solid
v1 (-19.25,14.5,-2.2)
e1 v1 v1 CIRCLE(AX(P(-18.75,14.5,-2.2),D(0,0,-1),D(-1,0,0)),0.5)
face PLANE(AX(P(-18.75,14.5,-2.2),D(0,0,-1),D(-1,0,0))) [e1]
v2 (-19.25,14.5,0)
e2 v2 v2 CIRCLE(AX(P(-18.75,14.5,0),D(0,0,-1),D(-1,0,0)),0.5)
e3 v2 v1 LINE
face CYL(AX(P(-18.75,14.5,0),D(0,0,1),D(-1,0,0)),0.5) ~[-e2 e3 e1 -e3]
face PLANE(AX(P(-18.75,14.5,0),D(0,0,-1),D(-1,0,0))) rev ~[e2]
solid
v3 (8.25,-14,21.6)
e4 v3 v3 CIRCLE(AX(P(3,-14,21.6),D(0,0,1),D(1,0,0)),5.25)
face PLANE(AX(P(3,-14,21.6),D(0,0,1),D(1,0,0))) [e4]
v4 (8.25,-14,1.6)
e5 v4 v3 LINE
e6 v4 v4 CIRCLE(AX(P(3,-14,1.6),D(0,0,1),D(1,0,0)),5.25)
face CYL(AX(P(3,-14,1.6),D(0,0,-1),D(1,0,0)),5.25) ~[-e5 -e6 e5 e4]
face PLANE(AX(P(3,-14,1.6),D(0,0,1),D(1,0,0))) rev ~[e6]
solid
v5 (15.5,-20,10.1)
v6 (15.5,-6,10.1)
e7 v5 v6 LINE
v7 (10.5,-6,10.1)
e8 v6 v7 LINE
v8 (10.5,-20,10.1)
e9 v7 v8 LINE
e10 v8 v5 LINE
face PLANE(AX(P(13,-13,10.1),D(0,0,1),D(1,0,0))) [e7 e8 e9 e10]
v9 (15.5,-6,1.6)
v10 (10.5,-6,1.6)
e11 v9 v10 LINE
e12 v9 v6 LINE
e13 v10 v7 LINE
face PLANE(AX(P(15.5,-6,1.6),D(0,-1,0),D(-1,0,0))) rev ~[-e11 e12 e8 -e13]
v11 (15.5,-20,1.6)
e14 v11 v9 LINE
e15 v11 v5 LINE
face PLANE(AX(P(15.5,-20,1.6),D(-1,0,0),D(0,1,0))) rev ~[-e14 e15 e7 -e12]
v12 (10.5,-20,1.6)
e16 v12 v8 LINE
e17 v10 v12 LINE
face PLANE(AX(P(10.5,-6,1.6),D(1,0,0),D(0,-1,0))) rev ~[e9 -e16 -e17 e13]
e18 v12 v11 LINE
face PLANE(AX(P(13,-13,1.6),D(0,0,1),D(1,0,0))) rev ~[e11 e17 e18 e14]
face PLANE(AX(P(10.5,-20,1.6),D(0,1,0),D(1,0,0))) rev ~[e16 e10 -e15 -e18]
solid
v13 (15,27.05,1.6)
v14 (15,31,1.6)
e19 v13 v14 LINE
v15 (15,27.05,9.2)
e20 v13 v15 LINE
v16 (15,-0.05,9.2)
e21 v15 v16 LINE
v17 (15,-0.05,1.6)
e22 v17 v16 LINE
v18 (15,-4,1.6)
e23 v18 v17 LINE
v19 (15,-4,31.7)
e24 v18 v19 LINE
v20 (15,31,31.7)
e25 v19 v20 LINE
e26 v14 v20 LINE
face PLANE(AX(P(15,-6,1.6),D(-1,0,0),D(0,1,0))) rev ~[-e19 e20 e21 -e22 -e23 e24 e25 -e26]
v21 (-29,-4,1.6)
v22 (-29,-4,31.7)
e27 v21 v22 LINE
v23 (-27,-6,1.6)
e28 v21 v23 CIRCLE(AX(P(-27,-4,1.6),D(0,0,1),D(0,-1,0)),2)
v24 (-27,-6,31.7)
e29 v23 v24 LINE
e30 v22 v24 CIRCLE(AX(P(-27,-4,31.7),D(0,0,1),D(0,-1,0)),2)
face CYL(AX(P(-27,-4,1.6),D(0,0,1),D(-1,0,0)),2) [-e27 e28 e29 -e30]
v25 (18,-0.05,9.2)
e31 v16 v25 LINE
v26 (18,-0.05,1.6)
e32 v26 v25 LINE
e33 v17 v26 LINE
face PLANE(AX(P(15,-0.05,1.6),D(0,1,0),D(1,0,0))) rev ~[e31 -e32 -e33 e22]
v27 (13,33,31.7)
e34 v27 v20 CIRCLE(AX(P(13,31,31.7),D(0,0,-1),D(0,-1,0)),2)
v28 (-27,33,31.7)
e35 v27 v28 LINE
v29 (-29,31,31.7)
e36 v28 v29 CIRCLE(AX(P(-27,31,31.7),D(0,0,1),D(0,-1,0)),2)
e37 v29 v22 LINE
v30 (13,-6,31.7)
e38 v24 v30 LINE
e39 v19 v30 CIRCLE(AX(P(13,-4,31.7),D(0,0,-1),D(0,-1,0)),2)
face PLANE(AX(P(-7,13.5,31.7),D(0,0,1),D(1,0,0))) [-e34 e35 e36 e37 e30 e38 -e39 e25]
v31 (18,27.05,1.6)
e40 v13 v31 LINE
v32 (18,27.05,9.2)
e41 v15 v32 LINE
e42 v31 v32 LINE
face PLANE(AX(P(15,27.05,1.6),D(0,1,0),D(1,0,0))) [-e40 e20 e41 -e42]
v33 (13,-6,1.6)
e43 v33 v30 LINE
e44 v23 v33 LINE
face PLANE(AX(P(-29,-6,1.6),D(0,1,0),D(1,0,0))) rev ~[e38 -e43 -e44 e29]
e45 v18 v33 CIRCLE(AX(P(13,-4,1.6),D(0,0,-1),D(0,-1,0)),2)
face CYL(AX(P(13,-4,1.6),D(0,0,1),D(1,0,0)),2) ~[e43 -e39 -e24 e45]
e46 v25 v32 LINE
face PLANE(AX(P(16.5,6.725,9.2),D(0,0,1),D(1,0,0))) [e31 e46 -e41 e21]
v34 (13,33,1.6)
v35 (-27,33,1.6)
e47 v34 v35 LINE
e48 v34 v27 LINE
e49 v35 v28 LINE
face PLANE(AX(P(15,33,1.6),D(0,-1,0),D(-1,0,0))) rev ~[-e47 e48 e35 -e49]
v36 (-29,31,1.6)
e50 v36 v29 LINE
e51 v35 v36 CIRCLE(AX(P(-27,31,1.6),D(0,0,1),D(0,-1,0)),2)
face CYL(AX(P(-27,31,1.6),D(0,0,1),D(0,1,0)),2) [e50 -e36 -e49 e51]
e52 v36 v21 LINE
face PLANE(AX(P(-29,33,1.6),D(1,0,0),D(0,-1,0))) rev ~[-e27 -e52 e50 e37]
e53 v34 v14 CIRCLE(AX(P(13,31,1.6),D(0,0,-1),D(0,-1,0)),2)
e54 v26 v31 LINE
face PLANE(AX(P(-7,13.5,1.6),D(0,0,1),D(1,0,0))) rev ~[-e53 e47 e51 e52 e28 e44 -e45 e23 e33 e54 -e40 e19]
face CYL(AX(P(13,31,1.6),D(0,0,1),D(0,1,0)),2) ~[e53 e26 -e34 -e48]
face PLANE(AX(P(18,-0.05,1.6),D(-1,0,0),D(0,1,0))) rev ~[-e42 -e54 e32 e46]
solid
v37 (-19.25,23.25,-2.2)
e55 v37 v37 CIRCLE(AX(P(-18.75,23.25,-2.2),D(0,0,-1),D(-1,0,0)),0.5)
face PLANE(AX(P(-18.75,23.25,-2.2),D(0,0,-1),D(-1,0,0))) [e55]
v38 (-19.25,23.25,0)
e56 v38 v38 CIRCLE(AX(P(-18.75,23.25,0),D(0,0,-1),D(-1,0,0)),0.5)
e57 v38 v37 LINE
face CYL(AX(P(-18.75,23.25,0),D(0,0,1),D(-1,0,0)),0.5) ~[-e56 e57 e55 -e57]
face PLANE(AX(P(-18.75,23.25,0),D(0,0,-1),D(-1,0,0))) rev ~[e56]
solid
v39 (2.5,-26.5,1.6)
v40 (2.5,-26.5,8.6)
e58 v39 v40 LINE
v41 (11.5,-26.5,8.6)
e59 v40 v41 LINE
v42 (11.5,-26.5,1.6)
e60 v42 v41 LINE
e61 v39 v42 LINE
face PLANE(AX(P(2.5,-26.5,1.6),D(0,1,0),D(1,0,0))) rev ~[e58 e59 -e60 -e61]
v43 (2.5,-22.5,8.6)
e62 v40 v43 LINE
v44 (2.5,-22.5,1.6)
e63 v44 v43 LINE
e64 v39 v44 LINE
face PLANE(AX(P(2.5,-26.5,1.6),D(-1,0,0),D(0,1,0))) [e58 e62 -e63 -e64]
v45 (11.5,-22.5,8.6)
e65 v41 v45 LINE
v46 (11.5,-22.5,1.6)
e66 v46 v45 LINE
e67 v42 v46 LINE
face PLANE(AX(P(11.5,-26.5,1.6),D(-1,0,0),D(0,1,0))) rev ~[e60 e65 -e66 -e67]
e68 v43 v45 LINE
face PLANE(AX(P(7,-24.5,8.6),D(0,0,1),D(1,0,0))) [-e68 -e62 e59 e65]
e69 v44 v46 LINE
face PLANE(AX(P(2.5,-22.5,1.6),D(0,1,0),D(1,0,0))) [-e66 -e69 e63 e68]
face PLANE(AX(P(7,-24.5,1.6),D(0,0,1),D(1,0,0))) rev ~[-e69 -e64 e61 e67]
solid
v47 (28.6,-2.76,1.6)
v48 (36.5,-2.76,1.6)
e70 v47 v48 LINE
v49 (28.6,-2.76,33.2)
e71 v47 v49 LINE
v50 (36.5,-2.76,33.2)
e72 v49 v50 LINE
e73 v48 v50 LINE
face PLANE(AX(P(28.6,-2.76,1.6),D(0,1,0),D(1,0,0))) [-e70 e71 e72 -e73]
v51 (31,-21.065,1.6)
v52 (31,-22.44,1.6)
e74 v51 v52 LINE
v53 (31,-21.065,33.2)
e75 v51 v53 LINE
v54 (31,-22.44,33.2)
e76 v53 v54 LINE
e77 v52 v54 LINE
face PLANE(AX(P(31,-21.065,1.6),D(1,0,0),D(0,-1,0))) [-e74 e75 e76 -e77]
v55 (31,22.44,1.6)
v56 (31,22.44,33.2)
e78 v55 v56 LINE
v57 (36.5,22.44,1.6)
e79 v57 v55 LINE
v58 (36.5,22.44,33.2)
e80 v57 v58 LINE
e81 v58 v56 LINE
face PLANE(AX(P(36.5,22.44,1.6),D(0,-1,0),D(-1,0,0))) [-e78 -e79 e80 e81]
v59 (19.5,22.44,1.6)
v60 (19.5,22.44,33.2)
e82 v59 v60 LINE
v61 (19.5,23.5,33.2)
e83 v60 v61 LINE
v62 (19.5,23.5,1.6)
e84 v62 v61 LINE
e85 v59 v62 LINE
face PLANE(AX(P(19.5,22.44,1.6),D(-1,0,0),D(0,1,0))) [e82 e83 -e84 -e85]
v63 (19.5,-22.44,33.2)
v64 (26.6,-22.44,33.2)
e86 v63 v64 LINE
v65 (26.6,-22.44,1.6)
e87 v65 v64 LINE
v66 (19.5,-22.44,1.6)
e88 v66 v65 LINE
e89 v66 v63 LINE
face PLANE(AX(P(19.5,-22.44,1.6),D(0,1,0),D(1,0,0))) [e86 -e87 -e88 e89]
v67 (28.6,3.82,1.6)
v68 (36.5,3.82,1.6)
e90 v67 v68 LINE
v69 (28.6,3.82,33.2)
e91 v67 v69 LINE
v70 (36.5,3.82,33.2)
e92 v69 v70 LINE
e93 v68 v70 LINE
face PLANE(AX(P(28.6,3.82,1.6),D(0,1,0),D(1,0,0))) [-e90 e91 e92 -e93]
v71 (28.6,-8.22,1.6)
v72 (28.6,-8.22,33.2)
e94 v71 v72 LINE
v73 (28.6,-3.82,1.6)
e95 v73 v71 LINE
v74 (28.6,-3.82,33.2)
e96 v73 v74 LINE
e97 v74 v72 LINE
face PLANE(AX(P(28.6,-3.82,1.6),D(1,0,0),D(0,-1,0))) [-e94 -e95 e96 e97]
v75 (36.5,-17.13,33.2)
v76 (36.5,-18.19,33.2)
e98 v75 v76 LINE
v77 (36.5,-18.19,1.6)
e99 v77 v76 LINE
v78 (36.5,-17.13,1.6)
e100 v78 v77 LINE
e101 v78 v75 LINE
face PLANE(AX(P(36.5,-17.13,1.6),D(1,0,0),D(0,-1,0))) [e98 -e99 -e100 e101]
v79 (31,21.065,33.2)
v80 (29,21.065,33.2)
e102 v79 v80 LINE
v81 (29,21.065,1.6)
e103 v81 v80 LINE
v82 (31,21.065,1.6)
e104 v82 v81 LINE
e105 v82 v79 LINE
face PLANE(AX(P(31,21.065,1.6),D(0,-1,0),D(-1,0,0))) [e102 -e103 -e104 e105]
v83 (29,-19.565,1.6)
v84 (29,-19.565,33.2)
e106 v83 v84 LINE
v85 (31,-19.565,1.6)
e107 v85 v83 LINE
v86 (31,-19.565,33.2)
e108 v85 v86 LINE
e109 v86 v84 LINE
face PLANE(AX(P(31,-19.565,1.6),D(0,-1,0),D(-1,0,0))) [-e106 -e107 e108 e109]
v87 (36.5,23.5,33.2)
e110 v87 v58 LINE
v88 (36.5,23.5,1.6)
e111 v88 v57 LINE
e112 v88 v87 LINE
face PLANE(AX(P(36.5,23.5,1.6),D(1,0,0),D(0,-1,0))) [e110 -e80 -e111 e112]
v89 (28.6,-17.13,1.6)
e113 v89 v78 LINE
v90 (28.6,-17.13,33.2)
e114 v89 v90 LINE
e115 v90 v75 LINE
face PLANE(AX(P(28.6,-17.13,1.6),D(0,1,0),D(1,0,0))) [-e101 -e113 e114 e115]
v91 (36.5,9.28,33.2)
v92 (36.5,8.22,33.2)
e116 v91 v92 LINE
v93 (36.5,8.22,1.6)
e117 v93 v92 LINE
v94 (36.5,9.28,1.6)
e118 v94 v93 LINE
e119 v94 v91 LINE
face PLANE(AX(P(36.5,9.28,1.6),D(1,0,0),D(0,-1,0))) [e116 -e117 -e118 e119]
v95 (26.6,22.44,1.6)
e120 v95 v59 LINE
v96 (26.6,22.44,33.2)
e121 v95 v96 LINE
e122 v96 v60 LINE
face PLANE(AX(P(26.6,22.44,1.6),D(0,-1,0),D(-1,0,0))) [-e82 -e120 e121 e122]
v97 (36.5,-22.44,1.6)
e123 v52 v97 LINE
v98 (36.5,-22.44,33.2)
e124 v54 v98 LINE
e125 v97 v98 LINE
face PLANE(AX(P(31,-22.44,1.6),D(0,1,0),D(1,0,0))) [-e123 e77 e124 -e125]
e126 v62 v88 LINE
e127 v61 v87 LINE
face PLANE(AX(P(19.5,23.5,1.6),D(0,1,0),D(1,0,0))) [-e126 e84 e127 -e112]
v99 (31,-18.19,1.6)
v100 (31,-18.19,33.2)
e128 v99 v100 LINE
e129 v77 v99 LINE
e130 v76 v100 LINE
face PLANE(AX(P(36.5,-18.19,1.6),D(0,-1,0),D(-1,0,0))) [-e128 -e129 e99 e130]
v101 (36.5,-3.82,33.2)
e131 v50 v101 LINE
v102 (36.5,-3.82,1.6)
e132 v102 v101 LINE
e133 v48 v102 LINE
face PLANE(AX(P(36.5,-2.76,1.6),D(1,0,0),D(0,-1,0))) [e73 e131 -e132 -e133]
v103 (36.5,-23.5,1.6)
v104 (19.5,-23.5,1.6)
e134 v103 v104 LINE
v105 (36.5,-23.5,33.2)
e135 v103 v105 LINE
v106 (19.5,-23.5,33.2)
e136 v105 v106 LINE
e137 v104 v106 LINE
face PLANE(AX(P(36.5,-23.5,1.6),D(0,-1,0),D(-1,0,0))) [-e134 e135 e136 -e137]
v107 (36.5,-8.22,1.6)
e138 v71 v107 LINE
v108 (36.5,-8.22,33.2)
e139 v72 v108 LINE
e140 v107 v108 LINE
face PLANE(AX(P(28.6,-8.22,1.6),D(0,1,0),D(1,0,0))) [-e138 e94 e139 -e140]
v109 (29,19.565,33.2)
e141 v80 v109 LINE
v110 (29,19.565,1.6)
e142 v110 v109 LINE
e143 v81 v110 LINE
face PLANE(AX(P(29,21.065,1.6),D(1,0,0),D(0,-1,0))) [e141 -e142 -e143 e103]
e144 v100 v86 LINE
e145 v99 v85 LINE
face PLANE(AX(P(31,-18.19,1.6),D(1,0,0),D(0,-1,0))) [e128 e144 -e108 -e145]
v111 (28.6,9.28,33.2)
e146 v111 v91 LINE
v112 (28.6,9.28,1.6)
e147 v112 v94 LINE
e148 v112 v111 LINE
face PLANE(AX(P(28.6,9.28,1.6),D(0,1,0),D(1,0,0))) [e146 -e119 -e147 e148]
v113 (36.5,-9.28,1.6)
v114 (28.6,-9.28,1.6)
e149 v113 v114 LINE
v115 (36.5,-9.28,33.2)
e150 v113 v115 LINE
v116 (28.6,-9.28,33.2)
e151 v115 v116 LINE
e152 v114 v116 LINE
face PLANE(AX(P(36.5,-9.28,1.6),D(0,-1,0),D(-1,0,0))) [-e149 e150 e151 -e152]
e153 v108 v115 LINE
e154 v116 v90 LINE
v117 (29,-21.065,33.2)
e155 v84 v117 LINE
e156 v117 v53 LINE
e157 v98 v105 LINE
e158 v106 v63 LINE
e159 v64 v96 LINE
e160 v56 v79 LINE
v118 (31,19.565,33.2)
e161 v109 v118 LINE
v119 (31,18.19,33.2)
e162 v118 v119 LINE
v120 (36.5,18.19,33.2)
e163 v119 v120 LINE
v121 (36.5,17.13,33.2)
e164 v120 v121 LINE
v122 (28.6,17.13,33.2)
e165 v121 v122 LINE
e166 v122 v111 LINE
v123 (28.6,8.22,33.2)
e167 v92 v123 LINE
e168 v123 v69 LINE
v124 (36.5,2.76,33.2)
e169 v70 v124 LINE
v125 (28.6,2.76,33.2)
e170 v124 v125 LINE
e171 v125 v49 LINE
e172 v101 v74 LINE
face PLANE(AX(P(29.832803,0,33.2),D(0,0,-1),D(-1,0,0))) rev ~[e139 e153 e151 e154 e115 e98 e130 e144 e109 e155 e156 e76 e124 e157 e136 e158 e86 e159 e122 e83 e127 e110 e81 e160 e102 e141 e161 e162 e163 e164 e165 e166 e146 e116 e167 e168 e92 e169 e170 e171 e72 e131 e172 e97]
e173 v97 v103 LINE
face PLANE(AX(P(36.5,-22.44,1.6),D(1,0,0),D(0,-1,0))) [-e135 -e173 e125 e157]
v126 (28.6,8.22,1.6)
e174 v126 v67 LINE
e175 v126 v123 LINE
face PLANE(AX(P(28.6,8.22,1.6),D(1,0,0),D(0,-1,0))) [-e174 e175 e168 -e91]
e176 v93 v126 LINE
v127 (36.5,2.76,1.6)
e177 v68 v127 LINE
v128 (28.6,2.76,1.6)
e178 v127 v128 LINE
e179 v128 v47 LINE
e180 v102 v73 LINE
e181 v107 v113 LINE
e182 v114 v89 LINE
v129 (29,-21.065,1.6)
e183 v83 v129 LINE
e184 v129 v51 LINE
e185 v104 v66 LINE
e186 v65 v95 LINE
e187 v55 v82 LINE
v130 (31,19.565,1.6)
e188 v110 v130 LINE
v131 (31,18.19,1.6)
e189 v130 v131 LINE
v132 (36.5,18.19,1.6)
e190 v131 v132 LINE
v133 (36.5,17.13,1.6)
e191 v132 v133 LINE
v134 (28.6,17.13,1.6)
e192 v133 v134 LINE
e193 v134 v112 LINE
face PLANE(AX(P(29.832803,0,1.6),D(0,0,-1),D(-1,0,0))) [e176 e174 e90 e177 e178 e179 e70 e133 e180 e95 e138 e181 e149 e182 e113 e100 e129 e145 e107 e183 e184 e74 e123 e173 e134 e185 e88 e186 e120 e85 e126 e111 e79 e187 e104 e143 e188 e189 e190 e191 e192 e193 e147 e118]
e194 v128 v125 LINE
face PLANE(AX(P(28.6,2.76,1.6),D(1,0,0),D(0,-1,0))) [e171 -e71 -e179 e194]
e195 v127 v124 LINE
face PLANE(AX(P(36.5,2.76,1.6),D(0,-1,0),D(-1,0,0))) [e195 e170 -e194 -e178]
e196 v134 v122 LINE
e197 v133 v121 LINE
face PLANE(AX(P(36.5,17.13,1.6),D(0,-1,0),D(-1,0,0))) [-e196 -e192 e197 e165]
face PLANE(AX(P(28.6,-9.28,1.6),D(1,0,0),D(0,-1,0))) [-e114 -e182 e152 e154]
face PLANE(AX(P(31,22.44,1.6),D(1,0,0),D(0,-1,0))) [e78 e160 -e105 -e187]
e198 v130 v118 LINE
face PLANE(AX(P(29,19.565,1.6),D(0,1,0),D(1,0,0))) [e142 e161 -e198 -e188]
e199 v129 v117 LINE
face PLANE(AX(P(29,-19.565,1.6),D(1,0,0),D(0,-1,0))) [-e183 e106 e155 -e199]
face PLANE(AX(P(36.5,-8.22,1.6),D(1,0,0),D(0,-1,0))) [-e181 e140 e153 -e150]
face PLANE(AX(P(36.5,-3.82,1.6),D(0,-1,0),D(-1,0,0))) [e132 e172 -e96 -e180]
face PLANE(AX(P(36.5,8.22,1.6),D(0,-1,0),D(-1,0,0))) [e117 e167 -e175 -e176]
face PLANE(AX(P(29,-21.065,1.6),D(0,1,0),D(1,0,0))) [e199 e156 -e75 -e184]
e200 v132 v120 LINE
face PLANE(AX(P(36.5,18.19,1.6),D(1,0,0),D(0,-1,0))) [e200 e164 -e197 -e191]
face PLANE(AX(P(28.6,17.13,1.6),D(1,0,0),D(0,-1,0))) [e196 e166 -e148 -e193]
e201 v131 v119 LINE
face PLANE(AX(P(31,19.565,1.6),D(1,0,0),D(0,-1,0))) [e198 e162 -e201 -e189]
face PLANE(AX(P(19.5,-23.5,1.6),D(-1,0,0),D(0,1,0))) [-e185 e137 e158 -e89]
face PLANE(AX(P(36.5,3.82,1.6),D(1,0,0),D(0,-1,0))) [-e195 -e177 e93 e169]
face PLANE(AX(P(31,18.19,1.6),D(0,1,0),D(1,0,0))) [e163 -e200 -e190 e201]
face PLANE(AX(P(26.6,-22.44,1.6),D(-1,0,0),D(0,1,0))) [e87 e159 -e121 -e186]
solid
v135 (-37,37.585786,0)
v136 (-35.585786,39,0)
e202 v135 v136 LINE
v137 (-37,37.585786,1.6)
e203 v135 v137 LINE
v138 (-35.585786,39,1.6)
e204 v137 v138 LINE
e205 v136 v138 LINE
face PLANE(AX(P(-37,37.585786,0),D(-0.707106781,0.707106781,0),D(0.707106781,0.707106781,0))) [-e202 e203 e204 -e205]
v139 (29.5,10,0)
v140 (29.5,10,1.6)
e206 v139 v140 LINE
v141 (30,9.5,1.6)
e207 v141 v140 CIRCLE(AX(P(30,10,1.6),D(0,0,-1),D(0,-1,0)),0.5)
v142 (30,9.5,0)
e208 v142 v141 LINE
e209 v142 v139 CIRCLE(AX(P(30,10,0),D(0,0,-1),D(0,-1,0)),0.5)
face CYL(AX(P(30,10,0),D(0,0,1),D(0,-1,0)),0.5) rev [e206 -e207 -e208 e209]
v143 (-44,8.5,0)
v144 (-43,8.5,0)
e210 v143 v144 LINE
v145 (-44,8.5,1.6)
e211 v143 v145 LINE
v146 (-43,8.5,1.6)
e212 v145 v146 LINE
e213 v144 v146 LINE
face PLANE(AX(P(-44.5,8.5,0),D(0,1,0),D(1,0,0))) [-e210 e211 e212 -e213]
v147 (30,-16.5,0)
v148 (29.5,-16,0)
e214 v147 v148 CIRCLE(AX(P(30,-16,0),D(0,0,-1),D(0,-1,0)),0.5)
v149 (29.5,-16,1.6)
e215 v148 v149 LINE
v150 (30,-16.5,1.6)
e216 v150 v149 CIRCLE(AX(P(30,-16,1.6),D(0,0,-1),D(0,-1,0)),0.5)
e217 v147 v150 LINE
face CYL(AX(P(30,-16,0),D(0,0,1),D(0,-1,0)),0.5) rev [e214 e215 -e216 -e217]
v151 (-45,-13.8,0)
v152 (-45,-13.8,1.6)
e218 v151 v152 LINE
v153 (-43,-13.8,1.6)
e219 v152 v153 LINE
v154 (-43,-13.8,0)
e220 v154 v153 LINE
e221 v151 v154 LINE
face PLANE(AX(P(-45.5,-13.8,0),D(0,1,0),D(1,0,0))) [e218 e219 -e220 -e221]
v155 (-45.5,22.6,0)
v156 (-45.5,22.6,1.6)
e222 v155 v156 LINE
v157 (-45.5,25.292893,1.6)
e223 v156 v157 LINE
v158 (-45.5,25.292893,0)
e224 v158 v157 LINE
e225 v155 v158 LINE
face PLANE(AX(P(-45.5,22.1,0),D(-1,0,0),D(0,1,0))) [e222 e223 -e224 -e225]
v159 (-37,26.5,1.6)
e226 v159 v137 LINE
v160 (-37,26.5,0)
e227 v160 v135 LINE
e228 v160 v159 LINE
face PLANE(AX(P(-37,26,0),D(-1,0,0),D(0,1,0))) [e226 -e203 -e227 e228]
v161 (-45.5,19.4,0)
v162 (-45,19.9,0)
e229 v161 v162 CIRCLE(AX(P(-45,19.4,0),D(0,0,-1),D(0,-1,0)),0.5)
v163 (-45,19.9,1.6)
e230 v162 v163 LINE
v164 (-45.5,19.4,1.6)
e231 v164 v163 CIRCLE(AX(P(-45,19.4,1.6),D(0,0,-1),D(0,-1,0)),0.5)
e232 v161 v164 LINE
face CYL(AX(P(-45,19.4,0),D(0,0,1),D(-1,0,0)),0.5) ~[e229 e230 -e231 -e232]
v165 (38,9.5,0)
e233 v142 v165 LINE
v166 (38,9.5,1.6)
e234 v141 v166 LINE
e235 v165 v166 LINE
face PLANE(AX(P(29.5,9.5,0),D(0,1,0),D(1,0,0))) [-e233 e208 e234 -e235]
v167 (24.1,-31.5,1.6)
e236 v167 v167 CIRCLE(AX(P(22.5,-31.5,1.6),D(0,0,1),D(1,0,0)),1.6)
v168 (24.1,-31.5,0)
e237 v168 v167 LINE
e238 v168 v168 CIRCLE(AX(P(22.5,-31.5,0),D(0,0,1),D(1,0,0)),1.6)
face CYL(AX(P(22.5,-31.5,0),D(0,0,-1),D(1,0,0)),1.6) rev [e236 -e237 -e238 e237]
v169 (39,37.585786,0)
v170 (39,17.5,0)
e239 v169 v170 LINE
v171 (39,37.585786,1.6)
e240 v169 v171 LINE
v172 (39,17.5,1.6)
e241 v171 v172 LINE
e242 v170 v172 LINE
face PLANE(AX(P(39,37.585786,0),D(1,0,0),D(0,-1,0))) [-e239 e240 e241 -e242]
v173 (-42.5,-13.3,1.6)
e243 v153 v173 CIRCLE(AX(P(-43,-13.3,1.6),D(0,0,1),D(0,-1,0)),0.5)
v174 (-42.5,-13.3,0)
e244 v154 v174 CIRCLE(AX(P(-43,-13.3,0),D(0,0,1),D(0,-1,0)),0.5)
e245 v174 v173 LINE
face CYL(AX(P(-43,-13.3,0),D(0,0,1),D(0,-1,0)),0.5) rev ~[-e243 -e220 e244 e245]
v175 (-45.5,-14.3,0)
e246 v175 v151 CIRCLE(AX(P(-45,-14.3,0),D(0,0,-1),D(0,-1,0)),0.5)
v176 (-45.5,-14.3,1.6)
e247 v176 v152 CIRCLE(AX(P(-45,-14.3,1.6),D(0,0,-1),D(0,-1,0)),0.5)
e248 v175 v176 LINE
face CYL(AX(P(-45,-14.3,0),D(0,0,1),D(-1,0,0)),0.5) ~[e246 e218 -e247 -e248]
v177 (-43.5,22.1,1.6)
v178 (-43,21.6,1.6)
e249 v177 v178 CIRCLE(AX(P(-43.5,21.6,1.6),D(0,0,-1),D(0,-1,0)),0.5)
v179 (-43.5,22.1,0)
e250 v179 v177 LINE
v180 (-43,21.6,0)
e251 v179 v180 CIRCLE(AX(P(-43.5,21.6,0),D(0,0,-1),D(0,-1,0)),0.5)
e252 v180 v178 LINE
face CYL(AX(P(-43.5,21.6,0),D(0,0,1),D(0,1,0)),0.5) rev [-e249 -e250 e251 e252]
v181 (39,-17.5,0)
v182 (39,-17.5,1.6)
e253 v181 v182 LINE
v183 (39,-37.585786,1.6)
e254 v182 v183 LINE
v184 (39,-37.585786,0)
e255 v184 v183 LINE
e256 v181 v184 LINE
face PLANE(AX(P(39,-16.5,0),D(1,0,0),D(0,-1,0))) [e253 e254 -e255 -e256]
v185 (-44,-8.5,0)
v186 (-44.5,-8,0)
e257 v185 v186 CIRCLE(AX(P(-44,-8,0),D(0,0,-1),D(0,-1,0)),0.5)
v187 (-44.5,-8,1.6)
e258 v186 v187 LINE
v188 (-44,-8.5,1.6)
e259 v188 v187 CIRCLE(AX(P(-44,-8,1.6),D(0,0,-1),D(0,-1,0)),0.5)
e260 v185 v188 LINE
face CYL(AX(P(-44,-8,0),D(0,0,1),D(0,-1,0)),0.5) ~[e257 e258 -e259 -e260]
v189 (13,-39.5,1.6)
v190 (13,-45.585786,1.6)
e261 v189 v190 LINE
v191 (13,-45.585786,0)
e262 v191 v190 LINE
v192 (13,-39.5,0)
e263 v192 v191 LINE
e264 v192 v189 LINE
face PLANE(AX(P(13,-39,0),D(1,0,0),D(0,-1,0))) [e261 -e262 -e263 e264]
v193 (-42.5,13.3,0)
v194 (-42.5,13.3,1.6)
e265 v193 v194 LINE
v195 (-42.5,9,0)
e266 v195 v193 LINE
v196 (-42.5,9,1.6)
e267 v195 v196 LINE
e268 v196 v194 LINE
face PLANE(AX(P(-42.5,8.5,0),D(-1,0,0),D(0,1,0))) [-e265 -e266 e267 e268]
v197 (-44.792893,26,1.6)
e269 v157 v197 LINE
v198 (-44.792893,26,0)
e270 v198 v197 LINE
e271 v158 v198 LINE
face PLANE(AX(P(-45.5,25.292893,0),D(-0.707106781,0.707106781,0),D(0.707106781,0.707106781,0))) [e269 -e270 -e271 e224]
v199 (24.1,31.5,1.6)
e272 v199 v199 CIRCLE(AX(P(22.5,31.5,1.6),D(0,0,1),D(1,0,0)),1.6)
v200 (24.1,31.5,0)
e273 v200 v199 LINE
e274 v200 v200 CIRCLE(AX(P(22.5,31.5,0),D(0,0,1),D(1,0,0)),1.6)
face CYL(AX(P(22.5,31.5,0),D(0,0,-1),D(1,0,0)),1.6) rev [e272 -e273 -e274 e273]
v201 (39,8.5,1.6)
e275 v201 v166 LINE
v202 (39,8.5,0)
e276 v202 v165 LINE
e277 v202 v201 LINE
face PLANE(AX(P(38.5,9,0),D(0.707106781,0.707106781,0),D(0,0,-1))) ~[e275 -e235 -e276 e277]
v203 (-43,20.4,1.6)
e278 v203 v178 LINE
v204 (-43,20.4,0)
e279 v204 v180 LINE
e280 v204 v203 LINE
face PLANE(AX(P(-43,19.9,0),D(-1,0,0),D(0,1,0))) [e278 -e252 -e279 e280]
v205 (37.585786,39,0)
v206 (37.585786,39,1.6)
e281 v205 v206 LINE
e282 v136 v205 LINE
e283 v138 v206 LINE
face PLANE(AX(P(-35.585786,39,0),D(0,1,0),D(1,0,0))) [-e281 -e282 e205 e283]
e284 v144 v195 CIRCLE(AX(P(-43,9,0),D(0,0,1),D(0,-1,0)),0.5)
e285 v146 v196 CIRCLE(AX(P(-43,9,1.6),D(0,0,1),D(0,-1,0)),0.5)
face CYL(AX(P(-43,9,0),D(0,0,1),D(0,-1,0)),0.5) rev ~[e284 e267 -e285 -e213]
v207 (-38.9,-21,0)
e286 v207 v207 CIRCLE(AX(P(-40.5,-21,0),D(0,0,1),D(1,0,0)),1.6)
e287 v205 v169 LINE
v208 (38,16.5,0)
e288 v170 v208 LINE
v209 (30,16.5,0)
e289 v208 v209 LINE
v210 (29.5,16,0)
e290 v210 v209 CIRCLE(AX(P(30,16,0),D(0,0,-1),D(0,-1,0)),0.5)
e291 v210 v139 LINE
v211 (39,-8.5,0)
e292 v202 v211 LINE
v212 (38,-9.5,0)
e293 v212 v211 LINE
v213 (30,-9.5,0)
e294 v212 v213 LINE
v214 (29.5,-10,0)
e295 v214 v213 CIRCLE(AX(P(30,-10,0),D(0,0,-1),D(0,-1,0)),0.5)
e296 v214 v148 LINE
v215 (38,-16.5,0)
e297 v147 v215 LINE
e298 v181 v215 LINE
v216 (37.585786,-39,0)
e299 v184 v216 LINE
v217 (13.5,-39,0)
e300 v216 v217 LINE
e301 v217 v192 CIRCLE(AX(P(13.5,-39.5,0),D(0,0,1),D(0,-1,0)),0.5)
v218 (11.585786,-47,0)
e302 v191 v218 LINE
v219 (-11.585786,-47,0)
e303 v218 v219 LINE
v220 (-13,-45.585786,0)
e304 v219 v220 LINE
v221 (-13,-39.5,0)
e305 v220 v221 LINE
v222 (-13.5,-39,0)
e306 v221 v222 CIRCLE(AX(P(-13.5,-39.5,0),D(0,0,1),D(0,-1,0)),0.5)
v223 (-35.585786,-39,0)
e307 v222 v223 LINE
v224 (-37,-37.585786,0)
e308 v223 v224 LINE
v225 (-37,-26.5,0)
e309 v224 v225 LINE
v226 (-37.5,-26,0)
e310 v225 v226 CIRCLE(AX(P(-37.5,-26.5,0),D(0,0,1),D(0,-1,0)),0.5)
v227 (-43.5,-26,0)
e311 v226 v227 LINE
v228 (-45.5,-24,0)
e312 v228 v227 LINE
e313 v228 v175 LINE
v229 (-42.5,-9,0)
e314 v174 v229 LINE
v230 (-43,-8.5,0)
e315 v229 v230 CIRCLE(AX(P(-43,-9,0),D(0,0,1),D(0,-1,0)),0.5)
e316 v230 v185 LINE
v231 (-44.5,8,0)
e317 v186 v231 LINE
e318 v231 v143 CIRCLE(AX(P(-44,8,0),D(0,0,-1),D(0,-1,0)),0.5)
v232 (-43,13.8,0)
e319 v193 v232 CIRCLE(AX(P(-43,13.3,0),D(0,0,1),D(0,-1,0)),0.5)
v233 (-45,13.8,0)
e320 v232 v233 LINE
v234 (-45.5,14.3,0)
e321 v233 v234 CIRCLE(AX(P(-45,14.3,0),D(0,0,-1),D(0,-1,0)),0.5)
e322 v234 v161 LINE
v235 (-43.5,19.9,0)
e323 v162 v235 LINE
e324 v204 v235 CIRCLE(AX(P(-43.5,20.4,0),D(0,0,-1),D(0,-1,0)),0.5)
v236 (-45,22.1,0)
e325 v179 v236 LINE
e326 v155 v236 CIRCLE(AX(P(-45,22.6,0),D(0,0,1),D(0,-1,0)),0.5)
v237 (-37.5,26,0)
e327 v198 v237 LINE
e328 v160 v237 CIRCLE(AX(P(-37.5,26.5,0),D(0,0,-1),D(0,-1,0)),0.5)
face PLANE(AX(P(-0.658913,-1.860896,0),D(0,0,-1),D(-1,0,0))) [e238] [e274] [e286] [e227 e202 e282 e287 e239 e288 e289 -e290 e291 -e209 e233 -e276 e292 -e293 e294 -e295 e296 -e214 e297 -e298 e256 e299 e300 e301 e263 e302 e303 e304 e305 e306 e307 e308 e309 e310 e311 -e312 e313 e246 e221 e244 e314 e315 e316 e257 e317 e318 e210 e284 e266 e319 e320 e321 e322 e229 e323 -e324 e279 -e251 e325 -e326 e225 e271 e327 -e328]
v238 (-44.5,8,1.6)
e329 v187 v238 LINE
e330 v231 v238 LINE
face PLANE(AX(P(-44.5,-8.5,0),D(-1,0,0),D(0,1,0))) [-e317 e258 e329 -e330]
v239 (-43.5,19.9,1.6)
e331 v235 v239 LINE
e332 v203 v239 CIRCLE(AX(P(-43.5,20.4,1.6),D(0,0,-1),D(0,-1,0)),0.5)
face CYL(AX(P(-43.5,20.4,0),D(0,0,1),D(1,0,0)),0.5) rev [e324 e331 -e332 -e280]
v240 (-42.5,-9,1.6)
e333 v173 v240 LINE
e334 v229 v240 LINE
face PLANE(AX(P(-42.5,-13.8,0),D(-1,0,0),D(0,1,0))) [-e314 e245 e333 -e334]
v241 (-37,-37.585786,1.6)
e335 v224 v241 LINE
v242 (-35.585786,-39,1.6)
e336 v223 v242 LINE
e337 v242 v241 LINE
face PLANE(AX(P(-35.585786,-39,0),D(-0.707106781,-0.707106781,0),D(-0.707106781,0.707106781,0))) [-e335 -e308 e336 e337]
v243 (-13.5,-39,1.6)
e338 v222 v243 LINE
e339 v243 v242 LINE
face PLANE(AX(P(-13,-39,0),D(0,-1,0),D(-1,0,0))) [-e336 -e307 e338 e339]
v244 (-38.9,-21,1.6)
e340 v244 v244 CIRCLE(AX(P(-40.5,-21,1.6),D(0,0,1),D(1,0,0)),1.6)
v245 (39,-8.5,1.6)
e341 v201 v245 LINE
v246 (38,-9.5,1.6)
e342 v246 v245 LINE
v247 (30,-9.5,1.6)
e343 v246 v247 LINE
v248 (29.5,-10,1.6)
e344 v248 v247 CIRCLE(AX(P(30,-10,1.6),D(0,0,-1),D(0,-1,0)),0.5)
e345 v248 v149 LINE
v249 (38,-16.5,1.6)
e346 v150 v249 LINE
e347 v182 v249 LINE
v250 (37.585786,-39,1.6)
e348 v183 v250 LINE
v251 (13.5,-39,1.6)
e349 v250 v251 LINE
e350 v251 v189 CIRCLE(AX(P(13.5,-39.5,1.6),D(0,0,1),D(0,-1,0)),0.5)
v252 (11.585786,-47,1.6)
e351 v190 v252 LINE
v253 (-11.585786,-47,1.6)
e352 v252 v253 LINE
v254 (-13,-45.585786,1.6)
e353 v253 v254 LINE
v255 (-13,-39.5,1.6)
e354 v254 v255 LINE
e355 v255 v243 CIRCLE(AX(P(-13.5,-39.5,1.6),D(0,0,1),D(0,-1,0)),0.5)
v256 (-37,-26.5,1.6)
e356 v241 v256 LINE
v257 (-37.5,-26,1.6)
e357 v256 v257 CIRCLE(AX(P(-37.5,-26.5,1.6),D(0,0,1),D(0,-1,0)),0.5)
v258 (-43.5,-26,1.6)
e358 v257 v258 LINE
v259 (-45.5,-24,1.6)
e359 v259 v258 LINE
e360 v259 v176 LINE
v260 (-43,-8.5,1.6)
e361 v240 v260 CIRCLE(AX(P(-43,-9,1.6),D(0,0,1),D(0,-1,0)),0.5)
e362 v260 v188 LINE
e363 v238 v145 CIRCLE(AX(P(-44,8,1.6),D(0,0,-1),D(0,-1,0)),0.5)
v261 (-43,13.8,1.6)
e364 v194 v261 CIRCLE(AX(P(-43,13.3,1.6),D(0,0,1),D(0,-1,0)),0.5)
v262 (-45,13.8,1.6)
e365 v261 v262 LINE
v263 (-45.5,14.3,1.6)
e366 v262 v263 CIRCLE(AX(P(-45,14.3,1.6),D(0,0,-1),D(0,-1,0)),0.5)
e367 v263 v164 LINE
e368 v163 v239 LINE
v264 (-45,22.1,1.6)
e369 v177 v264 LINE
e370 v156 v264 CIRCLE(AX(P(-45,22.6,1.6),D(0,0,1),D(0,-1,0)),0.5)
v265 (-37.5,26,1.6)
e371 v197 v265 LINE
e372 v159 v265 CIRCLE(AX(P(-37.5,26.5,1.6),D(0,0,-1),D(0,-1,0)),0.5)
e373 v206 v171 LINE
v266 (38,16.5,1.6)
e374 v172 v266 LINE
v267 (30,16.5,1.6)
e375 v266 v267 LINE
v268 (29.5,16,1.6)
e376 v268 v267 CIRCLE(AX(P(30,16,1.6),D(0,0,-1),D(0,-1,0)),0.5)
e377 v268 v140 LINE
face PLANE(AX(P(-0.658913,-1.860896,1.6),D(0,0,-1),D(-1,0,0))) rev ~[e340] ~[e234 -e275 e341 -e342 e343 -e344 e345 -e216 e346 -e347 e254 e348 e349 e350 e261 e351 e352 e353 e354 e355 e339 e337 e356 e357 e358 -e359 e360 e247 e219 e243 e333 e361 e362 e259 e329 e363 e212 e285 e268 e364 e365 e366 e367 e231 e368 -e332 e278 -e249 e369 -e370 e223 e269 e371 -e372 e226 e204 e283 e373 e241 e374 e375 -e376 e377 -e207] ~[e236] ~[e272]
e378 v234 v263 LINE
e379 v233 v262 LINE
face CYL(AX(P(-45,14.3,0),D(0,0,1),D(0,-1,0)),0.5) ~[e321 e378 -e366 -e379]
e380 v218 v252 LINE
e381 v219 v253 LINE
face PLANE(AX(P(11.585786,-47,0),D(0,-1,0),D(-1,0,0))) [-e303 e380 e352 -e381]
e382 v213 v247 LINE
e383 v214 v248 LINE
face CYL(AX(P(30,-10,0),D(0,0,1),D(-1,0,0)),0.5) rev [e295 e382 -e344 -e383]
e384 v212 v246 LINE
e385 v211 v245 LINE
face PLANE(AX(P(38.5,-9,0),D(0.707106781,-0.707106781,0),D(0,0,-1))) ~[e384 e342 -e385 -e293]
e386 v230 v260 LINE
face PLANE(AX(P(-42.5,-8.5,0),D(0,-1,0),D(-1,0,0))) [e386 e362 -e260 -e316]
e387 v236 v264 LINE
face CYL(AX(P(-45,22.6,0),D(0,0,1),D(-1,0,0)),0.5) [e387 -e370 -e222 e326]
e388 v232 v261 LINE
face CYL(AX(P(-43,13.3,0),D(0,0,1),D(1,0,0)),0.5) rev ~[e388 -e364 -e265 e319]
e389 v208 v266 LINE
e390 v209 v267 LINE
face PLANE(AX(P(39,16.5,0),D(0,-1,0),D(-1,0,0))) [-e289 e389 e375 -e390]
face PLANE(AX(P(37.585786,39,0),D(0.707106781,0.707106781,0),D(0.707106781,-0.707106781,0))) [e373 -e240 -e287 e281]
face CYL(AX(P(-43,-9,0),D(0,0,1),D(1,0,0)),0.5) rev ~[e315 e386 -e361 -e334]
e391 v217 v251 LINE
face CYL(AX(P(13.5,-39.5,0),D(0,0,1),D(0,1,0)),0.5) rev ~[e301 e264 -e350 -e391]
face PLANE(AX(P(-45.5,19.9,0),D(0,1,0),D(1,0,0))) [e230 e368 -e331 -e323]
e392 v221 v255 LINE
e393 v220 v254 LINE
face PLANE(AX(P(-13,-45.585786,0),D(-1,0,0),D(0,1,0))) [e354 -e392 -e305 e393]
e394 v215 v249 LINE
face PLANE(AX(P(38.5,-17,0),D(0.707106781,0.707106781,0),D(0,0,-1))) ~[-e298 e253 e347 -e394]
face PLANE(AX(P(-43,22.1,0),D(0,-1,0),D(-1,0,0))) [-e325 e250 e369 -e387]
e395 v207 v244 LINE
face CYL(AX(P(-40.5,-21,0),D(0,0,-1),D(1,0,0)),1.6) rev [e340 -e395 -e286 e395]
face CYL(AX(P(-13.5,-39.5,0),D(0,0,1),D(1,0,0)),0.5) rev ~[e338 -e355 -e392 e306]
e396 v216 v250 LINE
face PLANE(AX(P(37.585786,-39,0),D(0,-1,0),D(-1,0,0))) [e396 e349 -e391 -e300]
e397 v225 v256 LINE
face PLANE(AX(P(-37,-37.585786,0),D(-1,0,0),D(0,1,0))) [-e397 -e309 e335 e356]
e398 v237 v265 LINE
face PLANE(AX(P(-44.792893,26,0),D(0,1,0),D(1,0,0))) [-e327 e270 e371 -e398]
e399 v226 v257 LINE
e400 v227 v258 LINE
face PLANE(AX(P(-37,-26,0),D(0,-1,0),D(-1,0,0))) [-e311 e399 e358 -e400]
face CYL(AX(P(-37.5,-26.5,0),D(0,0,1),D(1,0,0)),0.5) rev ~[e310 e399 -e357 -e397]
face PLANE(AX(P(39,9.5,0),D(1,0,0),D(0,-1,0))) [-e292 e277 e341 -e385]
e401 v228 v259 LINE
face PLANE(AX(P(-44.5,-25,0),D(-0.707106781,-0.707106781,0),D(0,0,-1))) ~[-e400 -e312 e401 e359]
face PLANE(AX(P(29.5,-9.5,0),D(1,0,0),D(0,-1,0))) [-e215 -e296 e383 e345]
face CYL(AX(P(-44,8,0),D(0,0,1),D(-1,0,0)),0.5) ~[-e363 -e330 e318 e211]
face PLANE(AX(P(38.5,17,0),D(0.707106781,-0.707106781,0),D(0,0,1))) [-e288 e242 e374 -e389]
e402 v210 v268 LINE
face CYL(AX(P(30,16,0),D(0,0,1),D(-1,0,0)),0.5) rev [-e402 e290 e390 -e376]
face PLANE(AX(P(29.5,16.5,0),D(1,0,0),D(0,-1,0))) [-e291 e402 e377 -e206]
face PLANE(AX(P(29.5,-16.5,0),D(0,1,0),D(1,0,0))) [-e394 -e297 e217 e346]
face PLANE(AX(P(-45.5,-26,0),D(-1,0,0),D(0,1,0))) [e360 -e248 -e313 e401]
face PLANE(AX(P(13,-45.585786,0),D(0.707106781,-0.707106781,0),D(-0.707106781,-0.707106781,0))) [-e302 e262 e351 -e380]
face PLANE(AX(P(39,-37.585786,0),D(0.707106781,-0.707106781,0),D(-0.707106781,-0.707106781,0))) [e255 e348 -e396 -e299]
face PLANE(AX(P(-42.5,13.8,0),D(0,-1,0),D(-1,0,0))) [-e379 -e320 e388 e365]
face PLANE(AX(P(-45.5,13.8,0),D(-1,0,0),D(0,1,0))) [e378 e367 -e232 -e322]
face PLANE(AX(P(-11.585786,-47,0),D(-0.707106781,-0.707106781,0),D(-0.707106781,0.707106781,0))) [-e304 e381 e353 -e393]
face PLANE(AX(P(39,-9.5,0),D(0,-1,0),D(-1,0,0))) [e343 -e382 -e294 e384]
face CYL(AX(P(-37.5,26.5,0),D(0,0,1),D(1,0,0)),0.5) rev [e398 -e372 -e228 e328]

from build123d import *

# Parameters (mm, degrees)
SKETCH1_R            = 1.6
BOSS_EXTRUDE1_DEPTH  = 1.6
CHAMFER1_SIZE        = 2
CHAMFER2_SIZE        = 1
FILLET1_R            = 0.5
TRANSFORMER1_DEPTH   = 30.1
SKETCH2_3_W          = 3
SKETCH2_3_H          = 27.1
TRANSFORMER2_DEPTH   = 7.6
SKETCH3_R            = 0.5
TRANSFORMER3_DEPTH   = 2.2
TRANSFORMER3_2_DEPTH = 2.2
SKETCH2_4_R          = 5.25
CAP1_DEPTH           = 20
HEATSINK_DEPTH       = 31.6
RESISTOR_DEPTH       = 8.5
SKETCH2_7_W          = 9
SKETCH2_7_H          = 4
CAP2_DEPTH           = 7
FILLET2_R            = 2


with BuildPart() as part:
    # Sketch1 → Boss-Extrude1 (new body)
    with BuildSketch(Plane.XY):
        Polygon((-45.5, -26), (-45.5, -13.8), (-42.5, -13.8), (-42.5, -8.5), (-44.5, -8.5), (-44.5, 8.5), (-42.5, 8.5), (-42.5, 13.8), (-45.5, 13.8), (-45.5, 19.9), (-43, 19.9), (-43, 22.1), (-45.5, 22.1), (-45.5, 25.292893219), (-44.792893219, 26), (-37, 26), (-37, 37.585786438), (-35.585786438, 39), (37.585786438, 39), (39, 37.585786438), (39, 16.5), (29.5, 16.5), (29.5, 9.5), (39, 9.5), (39, -9.5), (29.5, -9.5), (29.5, -16.5), (39, -16.5), (39, -37.585786438), (37.585786438, -39), (13, -39), (13, -45.585786438), (11.585786438, -47), (-11.585786438, -47), (-13, -45.585786438), (-13, -39), (-35.585786438, -39), (-37, -37.585786438), (-37, -26), align=None)
        with Locations((-40.5, -21)):
            Circle(SKETCH1_R, mode=Mode.SUBTRACT)
        with Locations((22.5, 31.5)):
            Circle(SKETCH1_R, mode=Mode.SUBTRACT)
        with Locations((22.5, -31.5)):
            Circle(SKETCH1_R, mode=Mode.SUBTRACT)
    extrude(amount=BOSS_EXTRUDE1_DEPTH)

    # Chamfer1
    chamfer1_edges = [part.edges().sort_by_distance(p)[0] for p in [
        (-45.5, -26, 0.8),
    ]]
    chamfer(chamfer1_edges, length=CHAMFER1_SIZE)

    # Chamfer2
    chamfer2_edges = [part.edges().sort_by_distance(p)[0] for p in [
        (39, 16.5, 0.8),
        (39, 9.5, 0.8),
        (39, -16.5, 0.8),
        (39, -9.5, 0.8),
    ]]
    chamfer(chamfer2_edges, length=CHAMFER2_SIZE)

    # Fillet1
    fillet1_edges = [part.edges().sort_by_distance(p)[0] for p in [
        (-45.5, 19.9, 0.8),
        (-45.5, 22.1, 0.8),
        (-45.5, 13.8, 0.8),
        (-44.5, 8.5, 0.8),
        (-45.5, -13.8, 0.8),
        (-44.5, -8.5, 0.8),
        (-37, 26, 0.8),
        (29.5, 16.5, 0.8),
        (29.5, 9.5, 0.8),
        (29.5, -9.5, 0.8),
        (29.5, -16.5, 0.8),
        (13, -39, 0.8),
        (-13, -39, 0.8),
        (-37, -26, 0.8),
        (-43, 19.9, 0.8),
        (-43, 22.1, 0.8),
        (-42.5, 13.8, 0.8),
        (-42.5, 8.5, 0.8),
        (-42.5, -13.8, 0.8),
        (-42.5, -8.5, 0.8),
    ]]
    fillet(fillet1_edges, radius=FILLET1_R)


with BuildPart() as body_2:
    # Sketch2 → transformer1 (new body)
    with BuildSketch(Plane.XY.offset(1.6)):
        Polygon((15, -0.05), (15, 27.05), (15, 33), (-29, 33), (-29, -6), (10.5, -6), (15, -6), align=None)
    extrude(amount=TRANSFORMER1_DEPTH)

    # Sketch2<3> → transformer2 (add)
    with BuildSketch(Plane.XY.offset(1.6)):
        with Locations((16.5, 13.5)):
            Rectangle(SKETCH2_3_W, SKETCH2_3_H)
    extrude(amount=TRANSFORMER2_DEPTH)

    # Fillet2
    fillet2_edges = [body_2.edges().sort_by_distance(p)[0] for p in [
        (-29, 33, 16.65),
        (15, 33, 16.65),
        (15, -6, 16.65),
        (-29, -6, 16.65),
    ]]
    fillet(fillet2_edges, radius=FILLET2_R)


with BuildPart() as body_3:
    # Sketch3 → transformer3 (new body)
    with BuildSketch(Plane(origin=(0, 0, 0), x_dir=(-1, 0, 0), z_dir=(0, 0, -1))):
        with Locations((18.75, 14.5)):
            Circle(SKETCH3_R)
    extrude(amount=TRANSFORMER3_DEPTH)


with BuildPart() as body_4:
    # Sketch3 → transformer3 2 (new body)
    with BuildSketch(Plane(origin=(0, 0, 0), x_dir=(-1, 0, 0), z_dir=(0, 0, -1))):
        with Locations((18.75, 23.25)):
            Circle(SKETCH3_R)
    extrude(amount=TRANSFORMER3_2_DEPTH)


with BuildPart() as body_5:
    # Sketch2<4> → cap1 (new body)
    with BuildSketch(Plane.XY.offset(1.6)):
        with Locations((3, -14)):
            Circle(SKETCH2_4_R)
    extrude(amount=CAP1_DEPTH)


with BuildPart() as body_6:
    # Sketch2<5> → heatsink (new body)
    with BuildSketch(Plane.XY.offset(1.6)):
        Polygon((28.6, 17.13), (36.5, 17.13), (36.5, 18.19), (31, 18.19), (31, 19.565), (29, 19.565), (29, 21.065), (31, 21.065), (31, 22.44), (36.5, 22.44), (36.5, 23.5), (19.5, 23.5), (19.5, 22.44), (26.6, 22.44), (26.6, -22.44), (19.5, -22.44), (19.5, -23.5), (36.5, -23.5), (36.5, -22.44), (31, -22.44), (31, -21.065), (29, -21.065), (29, -19.565), (31, -19.565), (31, -18.19), (36.5, -18.19), (36.5, -17.13), (28.6, -17.13), (28.6, -9.28), (36.5, -9.28), (36.5, -8.22), (28.6, -8.22), (28.6, -3.82), (36.5, -3.82), (36.5, -2.76), (28.6, -2.76), (28.6, 2.76), (36.5, 2.76), (36.5, 3.82), (28.6, 3.82), (28.6, 8.22), (36.5, 8.22), (36.5, 9.28), (28.6, 9.28), align=None)
    extrude(amount=HEATSINK_DEPTH)


with BuildPart() as body_7:
    # Sketch2<6> → resistor (new body)
    with BuildSketch(Plane.XY.offset(1.6)):
        Polygon((15.5, -6), (15, -6), (10.5, -6), (10.5, -20), (15.5, -20), align=None)
    extrude(amount=RESISTOR_DEPTH)


with BuildPart() as body_8:
    # Sketch2<7> → cap2 (new body)
    with BuildSketch(Plane.XY.offset(1.6)):
        with Locations((7, -24.5)):
            Rectangle(SKETCH2_7_W, SKETCH2_7_H)
    extrude(amount=CAP2_DEPTH)


solid = Compound([part.part, body_2.part, body_3.part, body_4.part, body_5.part, body_6.part, body_7.part, body_8.part])
